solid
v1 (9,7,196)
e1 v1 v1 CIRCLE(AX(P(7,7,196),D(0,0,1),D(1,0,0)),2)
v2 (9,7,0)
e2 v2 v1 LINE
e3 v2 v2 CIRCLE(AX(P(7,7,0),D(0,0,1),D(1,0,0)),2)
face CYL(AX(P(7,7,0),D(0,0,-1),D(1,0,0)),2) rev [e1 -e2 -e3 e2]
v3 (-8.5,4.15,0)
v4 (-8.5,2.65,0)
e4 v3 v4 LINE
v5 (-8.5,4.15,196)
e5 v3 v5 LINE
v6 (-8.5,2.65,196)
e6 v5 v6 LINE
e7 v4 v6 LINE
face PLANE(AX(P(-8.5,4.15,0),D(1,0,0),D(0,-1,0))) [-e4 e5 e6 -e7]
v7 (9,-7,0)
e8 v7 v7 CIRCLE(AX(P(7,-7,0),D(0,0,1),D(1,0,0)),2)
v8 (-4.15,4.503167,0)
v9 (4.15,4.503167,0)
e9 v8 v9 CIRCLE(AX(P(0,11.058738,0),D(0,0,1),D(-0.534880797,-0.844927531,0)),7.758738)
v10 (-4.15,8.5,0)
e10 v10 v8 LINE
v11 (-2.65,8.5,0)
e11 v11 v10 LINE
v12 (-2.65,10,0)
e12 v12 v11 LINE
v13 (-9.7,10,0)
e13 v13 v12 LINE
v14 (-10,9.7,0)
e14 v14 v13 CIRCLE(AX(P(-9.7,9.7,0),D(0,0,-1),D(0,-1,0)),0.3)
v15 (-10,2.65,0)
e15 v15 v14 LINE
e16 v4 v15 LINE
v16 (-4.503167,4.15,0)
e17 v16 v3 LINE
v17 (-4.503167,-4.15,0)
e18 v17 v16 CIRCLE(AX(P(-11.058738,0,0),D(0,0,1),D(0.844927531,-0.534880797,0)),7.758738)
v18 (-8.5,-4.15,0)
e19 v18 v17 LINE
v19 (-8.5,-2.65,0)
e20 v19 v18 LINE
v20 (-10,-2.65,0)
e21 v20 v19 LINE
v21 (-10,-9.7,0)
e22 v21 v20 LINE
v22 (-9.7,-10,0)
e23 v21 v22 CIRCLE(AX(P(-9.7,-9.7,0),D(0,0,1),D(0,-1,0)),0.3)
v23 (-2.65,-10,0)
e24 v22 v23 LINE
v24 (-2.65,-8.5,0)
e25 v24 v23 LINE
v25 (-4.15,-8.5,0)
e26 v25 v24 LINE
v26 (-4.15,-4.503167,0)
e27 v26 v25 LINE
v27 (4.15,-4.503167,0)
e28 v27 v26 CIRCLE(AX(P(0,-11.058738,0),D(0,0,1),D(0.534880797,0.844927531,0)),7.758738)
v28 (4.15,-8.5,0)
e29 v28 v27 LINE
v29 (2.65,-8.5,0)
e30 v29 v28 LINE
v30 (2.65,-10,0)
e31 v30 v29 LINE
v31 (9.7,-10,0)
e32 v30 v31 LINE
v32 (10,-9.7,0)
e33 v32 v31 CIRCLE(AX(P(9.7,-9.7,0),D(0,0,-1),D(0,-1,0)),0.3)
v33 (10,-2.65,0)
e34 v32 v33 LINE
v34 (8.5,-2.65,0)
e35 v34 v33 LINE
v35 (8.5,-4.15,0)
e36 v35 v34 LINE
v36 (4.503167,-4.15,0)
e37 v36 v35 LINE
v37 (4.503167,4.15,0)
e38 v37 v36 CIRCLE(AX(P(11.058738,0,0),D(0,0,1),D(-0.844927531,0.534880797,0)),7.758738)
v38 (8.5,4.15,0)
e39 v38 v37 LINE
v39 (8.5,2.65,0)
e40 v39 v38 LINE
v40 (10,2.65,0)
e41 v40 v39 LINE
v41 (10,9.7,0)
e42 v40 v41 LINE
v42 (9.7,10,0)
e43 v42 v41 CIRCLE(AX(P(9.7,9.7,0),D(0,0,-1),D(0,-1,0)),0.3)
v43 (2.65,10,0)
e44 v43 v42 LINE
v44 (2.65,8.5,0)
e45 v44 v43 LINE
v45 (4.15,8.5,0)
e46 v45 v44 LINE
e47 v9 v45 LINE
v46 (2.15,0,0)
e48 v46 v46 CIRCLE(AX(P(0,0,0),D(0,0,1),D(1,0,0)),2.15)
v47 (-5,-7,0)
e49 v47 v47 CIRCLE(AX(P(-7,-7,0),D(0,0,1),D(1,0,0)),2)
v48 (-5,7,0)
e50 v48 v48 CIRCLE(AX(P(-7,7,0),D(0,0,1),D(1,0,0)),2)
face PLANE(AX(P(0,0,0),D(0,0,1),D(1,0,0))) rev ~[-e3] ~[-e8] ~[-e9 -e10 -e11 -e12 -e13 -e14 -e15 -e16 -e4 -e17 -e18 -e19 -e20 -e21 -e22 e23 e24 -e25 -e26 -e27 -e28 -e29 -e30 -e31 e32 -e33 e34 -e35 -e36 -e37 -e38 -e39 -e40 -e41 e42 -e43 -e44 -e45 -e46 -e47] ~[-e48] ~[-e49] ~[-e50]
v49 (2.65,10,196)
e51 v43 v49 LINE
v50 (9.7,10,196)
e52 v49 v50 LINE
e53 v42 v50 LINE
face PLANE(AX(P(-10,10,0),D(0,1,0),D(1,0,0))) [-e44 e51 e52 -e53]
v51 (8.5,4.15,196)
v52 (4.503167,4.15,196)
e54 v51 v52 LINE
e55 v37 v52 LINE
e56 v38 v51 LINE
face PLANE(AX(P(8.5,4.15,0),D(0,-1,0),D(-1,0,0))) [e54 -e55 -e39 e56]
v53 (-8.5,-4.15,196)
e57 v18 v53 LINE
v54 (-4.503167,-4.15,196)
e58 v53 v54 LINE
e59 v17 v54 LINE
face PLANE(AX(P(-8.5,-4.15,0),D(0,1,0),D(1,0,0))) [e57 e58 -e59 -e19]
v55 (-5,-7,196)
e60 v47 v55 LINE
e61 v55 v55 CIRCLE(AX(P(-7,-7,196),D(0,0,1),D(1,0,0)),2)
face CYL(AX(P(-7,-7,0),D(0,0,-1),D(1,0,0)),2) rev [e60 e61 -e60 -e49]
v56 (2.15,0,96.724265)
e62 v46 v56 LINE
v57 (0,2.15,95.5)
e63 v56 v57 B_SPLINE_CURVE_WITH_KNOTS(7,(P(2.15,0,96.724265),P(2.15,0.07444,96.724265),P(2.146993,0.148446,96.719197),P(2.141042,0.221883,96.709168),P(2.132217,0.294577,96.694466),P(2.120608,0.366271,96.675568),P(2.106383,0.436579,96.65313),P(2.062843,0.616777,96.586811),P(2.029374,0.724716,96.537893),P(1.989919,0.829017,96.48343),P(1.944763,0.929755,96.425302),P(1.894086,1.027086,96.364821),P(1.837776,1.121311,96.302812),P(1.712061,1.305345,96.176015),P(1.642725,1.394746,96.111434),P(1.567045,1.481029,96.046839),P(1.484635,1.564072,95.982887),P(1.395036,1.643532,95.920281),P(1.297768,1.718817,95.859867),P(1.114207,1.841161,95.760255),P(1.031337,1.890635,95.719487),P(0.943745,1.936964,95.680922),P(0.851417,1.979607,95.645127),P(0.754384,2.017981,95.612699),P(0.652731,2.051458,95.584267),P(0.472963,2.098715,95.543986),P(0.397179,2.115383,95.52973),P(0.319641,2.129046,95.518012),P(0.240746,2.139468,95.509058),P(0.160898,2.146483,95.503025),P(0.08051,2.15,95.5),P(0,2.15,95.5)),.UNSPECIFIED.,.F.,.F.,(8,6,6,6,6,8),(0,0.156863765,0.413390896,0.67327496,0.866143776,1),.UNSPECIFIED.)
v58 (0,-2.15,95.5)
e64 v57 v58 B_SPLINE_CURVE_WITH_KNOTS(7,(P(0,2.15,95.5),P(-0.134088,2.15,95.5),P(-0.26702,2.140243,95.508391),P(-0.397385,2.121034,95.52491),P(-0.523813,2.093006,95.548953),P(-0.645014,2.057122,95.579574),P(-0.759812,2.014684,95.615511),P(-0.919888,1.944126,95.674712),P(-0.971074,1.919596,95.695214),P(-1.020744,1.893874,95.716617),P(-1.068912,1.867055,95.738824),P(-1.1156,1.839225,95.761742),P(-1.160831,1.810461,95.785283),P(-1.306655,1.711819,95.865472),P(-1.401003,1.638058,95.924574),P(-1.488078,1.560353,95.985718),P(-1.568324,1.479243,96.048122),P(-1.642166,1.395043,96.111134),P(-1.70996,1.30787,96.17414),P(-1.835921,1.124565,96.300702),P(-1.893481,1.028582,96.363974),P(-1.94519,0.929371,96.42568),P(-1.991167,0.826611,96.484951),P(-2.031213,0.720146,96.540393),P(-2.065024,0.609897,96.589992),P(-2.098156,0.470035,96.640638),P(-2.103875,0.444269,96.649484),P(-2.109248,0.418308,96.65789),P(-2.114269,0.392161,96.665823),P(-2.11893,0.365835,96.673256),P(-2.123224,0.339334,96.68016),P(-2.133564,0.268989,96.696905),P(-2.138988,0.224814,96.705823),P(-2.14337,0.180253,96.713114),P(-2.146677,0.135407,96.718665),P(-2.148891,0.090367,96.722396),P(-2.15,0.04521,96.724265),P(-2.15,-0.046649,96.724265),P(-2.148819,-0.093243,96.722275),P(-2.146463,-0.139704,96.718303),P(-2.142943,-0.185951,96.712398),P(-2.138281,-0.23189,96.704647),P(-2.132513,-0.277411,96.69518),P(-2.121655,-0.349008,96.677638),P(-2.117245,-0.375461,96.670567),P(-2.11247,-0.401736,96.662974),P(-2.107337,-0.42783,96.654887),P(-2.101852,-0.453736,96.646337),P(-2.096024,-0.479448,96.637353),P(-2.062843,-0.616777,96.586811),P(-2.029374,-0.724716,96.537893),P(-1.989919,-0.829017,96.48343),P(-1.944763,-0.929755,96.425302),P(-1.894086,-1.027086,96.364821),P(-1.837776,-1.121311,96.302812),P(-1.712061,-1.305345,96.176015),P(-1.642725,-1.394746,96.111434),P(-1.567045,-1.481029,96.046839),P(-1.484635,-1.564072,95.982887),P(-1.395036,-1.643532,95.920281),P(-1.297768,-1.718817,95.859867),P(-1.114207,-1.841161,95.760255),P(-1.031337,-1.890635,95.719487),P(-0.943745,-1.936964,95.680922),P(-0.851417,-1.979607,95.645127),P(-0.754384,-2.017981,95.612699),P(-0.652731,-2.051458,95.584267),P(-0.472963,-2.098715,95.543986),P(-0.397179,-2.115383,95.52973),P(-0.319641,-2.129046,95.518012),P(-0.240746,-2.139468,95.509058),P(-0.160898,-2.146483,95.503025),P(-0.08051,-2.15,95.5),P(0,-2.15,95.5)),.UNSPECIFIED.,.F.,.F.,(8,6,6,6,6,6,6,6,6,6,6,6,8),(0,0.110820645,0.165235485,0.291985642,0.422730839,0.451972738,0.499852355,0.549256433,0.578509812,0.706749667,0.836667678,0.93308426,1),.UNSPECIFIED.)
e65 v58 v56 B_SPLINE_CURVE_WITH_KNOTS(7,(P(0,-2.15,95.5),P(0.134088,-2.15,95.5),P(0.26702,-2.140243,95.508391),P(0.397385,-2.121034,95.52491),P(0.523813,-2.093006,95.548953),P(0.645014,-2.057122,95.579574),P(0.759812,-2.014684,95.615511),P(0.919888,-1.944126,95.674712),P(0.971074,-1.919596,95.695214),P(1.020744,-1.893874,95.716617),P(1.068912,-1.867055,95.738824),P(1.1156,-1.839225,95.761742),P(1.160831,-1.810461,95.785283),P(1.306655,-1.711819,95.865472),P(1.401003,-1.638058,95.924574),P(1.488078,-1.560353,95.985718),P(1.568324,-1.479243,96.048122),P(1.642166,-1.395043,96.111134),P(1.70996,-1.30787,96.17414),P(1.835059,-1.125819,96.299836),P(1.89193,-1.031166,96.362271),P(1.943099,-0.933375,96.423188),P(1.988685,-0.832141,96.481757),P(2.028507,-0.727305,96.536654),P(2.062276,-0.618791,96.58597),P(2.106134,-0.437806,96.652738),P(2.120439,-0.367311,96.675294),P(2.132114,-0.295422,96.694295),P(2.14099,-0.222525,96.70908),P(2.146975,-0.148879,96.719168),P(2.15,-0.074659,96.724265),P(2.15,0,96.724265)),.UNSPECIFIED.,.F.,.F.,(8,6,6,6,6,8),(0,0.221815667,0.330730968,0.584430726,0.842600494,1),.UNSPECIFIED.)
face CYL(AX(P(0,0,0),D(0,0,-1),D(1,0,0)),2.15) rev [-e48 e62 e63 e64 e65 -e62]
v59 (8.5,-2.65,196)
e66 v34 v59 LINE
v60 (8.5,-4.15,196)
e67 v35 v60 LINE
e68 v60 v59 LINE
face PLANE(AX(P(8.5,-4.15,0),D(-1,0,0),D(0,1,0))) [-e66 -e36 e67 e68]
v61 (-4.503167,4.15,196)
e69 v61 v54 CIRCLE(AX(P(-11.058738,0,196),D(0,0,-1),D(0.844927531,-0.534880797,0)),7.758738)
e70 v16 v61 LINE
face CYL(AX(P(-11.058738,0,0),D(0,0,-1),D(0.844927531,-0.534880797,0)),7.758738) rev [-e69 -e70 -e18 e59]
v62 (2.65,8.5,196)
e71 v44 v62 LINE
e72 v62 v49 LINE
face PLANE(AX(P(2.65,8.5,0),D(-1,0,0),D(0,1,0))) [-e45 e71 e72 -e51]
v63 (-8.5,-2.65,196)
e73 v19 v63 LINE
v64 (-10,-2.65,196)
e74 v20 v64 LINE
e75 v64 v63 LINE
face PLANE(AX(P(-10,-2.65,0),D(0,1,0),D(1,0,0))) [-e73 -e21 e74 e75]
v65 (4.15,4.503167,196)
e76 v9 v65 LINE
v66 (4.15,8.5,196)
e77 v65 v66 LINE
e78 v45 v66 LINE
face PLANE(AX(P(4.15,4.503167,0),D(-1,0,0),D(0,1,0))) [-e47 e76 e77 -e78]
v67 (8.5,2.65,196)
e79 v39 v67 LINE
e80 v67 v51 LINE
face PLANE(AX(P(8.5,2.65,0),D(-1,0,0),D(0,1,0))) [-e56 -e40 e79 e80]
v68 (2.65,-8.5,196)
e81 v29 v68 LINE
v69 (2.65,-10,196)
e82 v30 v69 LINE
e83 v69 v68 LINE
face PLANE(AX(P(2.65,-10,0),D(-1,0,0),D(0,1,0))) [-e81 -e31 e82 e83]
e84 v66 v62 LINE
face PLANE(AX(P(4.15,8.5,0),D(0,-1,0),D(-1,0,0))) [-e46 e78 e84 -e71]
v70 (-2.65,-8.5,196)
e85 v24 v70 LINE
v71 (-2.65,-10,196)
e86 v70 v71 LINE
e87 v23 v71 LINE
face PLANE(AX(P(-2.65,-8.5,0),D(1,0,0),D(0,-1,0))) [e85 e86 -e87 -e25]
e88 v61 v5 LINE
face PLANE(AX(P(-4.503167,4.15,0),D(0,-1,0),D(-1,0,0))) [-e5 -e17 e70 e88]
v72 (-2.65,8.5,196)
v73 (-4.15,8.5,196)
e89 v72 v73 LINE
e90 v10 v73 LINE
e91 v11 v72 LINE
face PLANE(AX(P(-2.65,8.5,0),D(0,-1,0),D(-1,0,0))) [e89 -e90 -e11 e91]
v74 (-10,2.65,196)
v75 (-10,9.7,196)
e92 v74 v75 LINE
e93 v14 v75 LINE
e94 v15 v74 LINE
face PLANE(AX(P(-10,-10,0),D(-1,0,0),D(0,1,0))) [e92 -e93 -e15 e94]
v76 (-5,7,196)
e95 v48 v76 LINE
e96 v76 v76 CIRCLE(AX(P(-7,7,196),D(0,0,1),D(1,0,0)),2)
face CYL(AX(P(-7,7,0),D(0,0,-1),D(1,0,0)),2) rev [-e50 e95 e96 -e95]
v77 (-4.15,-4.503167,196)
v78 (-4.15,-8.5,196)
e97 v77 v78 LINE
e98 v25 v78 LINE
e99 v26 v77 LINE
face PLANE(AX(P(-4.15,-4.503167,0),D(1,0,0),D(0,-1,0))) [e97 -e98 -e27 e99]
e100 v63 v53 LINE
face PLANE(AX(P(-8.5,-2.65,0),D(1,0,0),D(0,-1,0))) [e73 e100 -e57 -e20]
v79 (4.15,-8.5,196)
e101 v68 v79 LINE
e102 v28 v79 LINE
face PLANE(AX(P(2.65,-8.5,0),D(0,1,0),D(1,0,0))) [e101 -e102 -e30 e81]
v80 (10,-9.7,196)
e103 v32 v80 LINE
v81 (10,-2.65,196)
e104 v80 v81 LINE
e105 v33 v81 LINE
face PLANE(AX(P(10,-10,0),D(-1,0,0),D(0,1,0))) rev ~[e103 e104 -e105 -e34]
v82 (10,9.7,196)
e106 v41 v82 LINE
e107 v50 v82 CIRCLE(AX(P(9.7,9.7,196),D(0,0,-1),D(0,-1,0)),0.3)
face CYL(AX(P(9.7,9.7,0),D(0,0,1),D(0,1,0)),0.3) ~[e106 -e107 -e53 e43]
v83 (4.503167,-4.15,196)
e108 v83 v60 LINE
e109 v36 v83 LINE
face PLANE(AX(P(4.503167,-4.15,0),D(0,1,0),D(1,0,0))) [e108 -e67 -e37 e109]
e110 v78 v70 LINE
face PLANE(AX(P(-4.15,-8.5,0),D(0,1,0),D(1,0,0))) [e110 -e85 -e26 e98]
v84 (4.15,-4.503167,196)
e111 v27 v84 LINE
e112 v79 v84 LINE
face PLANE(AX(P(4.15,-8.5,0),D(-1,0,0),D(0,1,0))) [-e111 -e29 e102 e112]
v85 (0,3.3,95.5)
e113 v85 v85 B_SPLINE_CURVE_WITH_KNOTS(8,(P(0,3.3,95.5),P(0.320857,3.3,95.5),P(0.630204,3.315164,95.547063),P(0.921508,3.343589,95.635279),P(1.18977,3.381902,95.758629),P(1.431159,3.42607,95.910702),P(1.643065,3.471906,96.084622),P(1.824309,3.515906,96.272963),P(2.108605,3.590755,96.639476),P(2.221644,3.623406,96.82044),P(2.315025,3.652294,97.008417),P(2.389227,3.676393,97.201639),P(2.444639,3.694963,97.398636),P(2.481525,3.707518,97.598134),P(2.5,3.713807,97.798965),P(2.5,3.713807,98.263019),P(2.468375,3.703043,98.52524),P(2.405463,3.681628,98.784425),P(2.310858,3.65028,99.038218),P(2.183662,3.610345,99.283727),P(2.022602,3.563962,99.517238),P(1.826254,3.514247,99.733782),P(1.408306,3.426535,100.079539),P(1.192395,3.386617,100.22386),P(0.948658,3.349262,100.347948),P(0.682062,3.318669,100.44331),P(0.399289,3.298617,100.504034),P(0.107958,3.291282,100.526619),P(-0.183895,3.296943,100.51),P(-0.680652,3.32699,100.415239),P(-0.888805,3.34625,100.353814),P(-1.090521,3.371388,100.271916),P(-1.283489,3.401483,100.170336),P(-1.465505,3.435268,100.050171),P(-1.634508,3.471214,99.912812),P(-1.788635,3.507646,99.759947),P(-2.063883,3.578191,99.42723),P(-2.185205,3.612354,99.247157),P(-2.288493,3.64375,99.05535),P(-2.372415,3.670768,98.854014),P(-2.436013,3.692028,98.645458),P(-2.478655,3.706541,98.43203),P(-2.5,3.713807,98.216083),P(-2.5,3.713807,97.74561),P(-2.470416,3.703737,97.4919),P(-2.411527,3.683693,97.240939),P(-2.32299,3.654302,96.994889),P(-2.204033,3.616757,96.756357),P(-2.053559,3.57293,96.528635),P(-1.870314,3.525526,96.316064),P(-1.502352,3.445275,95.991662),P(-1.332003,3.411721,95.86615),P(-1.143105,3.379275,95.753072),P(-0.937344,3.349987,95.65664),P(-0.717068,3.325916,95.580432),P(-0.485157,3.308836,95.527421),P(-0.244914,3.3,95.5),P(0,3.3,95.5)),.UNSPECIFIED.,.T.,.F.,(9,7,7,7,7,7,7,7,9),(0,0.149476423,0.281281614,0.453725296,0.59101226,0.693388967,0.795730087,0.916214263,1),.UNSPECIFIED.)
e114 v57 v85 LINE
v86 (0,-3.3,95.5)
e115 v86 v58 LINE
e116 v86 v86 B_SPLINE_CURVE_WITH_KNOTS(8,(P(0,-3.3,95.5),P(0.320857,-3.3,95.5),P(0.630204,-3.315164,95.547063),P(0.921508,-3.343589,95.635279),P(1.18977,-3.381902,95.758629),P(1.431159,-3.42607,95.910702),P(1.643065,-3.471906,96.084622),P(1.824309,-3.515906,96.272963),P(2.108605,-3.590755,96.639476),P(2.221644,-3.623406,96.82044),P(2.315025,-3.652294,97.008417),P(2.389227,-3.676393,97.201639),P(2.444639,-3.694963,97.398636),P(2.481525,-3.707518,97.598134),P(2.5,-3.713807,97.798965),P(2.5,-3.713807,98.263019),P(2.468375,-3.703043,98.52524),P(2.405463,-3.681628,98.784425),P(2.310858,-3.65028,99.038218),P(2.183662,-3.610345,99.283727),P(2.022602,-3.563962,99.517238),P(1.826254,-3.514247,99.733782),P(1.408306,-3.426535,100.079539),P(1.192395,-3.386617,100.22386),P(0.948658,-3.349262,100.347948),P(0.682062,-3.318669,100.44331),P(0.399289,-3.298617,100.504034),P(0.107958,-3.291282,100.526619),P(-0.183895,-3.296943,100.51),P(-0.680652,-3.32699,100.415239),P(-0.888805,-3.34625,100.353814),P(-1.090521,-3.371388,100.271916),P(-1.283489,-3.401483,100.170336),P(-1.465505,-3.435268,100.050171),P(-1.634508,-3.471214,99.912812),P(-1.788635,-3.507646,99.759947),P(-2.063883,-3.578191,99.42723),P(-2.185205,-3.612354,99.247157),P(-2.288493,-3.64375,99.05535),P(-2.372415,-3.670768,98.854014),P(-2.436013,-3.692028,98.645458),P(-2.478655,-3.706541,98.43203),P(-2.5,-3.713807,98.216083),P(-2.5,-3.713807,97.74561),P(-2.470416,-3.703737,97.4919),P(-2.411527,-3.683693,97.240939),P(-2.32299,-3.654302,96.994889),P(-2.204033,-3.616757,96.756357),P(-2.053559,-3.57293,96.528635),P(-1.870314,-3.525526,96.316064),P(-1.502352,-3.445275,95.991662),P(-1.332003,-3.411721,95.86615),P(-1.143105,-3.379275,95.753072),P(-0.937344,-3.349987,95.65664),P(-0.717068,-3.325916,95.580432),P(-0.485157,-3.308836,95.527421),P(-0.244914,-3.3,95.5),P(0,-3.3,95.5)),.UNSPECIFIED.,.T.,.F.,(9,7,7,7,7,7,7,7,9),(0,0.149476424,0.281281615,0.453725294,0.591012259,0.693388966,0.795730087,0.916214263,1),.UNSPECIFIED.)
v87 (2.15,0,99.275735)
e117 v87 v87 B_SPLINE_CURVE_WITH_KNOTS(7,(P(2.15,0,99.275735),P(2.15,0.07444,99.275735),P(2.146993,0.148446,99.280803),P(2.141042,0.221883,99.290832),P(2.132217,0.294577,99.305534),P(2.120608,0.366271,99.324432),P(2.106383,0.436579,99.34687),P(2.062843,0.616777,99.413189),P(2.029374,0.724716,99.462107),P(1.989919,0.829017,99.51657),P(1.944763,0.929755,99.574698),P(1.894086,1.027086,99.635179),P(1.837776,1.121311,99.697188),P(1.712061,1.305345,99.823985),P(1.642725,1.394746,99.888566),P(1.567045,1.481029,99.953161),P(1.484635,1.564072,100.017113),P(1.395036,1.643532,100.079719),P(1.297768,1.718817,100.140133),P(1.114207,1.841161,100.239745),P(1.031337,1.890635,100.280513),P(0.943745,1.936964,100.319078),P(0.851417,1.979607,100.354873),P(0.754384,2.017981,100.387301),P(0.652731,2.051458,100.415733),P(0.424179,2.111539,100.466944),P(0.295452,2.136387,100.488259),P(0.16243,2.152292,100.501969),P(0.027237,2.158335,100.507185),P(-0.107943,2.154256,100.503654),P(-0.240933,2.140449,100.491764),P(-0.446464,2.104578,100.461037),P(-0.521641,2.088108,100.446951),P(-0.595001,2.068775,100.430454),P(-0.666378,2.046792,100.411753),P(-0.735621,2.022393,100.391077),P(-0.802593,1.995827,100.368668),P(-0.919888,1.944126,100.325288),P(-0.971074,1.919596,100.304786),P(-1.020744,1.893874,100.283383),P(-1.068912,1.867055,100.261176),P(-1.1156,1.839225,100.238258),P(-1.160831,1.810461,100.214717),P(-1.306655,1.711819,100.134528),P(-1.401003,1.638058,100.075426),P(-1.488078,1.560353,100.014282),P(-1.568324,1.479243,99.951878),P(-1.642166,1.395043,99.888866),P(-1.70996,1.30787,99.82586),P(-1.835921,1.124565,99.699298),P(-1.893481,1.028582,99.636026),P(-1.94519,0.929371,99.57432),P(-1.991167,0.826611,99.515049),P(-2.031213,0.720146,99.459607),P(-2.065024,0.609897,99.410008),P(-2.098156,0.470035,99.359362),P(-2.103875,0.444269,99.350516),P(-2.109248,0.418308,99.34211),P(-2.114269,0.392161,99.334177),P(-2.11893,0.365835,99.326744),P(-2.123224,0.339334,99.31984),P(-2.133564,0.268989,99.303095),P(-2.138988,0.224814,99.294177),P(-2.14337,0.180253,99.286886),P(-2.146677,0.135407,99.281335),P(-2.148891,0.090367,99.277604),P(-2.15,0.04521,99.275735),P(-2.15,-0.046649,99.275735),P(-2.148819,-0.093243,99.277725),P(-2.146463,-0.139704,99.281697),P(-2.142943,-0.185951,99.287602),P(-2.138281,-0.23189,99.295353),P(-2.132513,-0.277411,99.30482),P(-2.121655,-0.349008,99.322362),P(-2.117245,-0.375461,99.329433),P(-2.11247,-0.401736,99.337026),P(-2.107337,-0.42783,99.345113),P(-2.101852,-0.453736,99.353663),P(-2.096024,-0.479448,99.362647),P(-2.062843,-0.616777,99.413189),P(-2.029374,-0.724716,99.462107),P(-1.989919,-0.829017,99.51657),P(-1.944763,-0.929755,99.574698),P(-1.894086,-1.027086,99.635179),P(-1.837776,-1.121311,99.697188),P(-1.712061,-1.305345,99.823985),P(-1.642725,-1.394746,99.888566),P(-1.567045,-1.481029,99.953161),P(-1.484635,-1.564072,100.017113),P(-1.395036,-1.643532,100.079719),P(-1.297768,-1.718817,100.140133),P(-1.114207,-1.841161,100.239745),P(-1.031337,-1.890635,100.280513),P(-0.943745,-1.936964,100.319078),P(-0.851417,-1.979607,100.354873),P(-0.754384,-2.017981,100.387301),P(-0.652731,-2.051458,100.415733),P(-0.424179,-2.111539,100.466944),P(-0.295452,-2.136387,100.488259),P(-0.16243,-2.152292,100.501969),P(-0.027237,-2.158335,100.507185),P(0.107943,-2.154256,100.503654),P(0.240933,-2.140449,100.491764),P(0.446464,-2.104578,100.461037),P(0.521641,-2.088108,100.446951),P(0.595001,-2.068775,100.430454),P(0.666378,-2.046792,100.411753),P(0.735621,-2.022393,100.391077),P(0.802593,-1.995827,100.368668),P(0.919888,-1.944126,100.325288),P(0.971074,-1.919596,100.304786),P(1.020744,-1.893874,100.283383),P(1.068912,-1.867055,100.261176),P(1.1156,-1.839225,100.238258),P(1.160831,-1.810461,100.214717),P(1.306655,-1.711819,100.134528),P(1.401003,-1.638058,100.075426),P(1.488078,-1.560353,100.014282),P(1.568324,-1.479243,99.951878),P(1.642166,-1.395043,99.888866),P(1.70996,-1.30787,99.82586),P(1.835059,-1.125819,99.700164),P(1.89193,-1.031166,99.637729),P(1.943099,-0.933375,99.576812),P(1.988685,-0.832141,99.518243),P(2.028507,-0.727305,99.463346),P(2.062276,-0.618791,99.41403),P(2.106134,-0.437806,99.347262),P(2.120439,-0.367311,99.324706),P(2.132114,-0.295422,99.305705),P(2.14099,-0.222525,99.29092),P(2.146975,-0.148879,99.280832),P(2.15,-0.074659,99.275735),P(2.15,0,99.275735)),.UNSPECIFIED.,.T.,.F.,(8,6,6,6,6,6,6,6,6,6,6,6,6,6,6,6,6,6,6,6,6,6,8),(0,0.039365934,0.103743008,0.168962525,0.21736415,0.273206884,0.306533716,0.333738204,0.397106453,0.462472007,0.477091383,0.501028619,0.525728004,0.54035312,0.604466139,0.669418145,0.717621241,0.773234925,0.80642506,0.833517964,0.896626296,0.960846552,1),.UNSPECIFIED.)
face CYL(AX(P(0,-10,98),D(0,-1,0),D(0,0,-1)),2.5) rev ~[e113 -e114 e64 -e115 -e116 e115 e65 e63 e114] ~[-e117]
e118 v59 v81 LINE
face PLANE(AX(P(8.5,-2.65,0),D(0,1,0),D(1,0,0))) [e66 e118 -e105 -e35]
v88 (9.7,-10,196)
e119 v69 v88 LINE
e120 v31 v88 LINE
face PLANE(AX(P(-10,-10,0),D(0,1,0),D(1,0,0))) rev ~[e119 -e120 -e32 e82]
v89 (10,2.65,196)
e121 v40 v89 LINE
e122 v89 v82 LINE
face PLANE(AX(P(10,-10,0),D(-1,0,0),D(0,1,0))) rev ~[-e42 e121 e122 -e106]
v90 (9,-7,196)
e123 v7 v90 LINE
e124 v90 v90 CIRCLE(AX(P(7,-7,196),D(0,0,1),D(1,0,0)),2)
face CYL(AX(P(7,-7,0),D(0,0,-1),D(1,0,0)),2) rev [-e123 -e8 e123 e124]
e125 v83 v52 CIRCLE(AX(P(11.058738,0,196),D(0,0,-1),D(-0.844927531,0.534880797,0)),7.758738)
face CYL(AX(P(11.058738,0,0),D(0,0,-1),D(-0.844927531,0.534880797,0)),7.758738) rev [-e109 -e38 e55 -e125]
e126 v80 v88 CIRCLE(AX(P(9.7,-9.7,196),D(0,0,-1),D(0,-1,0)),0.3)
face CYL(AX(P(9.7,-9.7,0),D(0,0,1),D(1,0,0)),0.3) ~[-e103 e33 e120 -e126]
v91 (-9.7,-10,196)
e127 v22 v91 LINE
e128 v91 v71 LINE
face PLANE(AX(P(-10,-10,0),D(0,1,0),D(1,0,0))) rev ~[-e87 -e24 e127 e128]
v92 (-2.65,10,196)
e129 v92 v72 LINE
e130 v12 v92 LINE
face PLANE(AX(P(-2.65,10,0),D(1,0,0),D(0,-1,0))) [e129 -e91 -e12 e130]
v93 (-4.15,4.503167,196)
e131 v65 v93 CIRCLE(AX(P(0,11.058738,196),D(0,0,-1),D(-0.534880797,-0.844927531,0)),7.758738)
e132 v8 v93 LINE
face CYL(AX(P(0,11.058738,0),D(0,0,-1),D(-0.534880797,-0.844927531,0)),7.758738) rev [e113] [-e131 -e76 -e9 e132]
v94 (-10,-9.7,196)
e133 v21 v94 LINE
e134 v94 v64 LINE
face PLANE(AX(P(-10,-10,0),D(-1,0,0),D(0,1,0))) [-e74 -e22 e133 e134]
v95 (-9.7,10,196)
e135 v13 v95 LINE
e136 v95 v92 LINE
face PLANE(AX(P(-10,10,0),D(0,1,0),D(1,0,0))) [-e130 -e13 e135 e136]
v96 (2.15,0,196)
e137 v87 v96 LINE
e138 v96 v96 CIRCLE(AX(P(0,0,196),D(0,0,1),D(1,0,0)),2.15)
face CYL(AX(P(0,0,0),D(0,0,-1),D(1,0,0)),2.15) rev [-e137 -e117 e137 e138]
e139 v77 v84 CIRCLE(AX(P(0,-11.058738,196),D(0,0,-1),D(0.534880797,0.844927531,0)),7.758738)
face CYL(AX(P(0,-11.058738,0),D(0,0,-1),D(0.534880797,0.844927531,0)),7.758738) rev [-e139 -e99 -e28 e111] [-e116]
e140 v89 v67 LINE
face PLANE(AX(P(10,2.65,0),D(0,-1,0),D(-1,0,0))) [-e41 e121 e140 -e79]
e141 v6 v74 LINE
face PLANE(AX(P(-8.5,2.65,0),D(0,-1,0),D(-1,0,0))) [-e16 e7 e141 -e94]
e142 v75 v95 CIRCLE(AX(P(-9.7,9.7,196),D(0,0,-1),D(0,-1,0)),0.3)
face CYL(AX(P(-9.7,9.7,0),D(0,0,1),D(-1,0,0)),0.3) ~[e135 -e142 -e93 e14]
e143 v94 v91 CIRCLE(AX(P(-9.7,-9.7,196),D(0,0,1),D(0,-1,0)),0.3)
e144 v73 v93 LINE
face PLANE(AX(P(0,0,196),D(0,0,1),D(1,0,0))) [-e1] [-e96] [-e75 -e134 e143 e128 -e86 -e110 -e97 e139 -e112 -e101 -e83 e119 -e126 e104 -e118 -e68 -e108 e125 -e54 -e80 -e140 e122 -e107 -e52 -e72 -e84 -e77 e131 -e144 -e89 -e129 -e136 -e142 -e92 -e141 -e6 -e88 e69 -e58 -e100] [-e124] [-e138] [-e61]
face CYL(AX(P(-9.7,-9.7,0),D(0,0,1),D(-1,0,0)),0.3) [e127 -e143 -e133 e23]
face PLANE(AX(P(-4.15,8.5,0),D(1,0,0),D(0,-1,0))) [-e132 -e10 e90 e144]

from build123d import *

# Parameters (mm, degrees)
SKETCH_1_W               = 20
SKETCH_1_H               = 20
SKETCH_1_R               = 2
SKETCH_1_R_2             = 2.15
EXTRUDE_1_DEPTH          = 196
CUT_EXTRUDE_1_REACH      = 198.51
PATTERN_CIRCULAR_1_COUNT = 4
FILLET_1_R               = 0.3
SKETCH_4_R               = 2.5
CUT_EXTRUDE_4_DEPTH      = 198.271386673


with BuildPart() as part:
    # 스케치1 → 보스-돌출1 (new body)
    with BuildSketch(Plane.XY):
        Rectangle(SKETCH_1_W, SKETCH_1_H)
        with Locations((-7, -7)):
            Circle(SKETCH_1_R, mode=Mode.SUBTRACT)
        with Locations((7, -7)):
            Circle(SKETCH_1_R, mode=Mode.SUBTRACT)
        with Locations((-7, 7)):
            Circle(SKETCH_1_R, mode=Mode.SUBTRACT)
        Circle(SKETCH_1_R_2, mode=Mode.SUBTRACT)
        with Locations((7, 7)):
            Circle(SKETCH_1_R, mode=Mode.SUBTRACT)
    extrude(amount=EXTRUDE_1_DEPTH)

    # 스케치1<3> → 컷-돌출1 (cut, up to next)
    with BuildSketch(Plane.XY, mode=Mode.PRIVATE) as cut_extrude_1_sk1:
        with BuildLine():
            Line((-8.5, 2.65), (-10, 2.65))
            Line((-10, 2.65), (-10, -2.65))
            Line((-10, -2.65), (-8.5, -2.65))
            Line((-8.5, -2.65), (-8.5, -4.15))
            Line((-8.5, -4.15), (-4.503166667, -4.15))
            ThreePointArc((-4.503166667, -4.15), (-3.3, 0), (-4.503166667, 4.15))
            Line((-4.503166667, 4.15), (-8.5, 4.15))
            Line((-8.5, 4.15), (-8.5, 2.65))
        make_face()
    cut_extrude_1_tool1 = extrude(cut_extrude_1_sk1.sketch, amount=CUT_EXTRUDE_1_REACH, mode=Mode.PRIVATE) & part.part
    cut_extrude_1 = cut_extrude_1_tool1.solids().sort_by_distance((-6.606913, 0, 0))[0]
    add(cut_extrude_1, mode=Mode.SUBTRACT)

    # 원형 패턴1: 컷-돌출1 ×4 about axis
    pattern_circular_1_axis = Axis((0, 0, 196), (0, 0, -1))
    for i in range(1, PATTERN_CIRCULAR_1_COUNT):
        add(cut_extrude_1.rotate(pattern_circular_1_axis, i * 360 / PATTERN_CIRCULAR_1_COUNT), mode=Mode.SUBTRACT)

    # 필렛1
    fillet_1_edges = [part.edges().sort_by_distance(p)[0] for p in [
        (10, -10, 98),
        (-10, -10, 98),
        (-10, 10, 98),
        (10, 10, 98),
    ]]
    fillet(fillet_1_edges, radius=FILLET_1_R)

    # 스케치4 → 컷-돌출4 (cut, through all)
    with BuildSketch(Plane.XZ.offset(10)):
        with Locations((0, 98)):
            Circle(SKETCH_4_R)
    extrude(amount=-CUT_EXTRUDE_4_DEPTH, mode=Mode.SUBTRACT)


solid = part.part
